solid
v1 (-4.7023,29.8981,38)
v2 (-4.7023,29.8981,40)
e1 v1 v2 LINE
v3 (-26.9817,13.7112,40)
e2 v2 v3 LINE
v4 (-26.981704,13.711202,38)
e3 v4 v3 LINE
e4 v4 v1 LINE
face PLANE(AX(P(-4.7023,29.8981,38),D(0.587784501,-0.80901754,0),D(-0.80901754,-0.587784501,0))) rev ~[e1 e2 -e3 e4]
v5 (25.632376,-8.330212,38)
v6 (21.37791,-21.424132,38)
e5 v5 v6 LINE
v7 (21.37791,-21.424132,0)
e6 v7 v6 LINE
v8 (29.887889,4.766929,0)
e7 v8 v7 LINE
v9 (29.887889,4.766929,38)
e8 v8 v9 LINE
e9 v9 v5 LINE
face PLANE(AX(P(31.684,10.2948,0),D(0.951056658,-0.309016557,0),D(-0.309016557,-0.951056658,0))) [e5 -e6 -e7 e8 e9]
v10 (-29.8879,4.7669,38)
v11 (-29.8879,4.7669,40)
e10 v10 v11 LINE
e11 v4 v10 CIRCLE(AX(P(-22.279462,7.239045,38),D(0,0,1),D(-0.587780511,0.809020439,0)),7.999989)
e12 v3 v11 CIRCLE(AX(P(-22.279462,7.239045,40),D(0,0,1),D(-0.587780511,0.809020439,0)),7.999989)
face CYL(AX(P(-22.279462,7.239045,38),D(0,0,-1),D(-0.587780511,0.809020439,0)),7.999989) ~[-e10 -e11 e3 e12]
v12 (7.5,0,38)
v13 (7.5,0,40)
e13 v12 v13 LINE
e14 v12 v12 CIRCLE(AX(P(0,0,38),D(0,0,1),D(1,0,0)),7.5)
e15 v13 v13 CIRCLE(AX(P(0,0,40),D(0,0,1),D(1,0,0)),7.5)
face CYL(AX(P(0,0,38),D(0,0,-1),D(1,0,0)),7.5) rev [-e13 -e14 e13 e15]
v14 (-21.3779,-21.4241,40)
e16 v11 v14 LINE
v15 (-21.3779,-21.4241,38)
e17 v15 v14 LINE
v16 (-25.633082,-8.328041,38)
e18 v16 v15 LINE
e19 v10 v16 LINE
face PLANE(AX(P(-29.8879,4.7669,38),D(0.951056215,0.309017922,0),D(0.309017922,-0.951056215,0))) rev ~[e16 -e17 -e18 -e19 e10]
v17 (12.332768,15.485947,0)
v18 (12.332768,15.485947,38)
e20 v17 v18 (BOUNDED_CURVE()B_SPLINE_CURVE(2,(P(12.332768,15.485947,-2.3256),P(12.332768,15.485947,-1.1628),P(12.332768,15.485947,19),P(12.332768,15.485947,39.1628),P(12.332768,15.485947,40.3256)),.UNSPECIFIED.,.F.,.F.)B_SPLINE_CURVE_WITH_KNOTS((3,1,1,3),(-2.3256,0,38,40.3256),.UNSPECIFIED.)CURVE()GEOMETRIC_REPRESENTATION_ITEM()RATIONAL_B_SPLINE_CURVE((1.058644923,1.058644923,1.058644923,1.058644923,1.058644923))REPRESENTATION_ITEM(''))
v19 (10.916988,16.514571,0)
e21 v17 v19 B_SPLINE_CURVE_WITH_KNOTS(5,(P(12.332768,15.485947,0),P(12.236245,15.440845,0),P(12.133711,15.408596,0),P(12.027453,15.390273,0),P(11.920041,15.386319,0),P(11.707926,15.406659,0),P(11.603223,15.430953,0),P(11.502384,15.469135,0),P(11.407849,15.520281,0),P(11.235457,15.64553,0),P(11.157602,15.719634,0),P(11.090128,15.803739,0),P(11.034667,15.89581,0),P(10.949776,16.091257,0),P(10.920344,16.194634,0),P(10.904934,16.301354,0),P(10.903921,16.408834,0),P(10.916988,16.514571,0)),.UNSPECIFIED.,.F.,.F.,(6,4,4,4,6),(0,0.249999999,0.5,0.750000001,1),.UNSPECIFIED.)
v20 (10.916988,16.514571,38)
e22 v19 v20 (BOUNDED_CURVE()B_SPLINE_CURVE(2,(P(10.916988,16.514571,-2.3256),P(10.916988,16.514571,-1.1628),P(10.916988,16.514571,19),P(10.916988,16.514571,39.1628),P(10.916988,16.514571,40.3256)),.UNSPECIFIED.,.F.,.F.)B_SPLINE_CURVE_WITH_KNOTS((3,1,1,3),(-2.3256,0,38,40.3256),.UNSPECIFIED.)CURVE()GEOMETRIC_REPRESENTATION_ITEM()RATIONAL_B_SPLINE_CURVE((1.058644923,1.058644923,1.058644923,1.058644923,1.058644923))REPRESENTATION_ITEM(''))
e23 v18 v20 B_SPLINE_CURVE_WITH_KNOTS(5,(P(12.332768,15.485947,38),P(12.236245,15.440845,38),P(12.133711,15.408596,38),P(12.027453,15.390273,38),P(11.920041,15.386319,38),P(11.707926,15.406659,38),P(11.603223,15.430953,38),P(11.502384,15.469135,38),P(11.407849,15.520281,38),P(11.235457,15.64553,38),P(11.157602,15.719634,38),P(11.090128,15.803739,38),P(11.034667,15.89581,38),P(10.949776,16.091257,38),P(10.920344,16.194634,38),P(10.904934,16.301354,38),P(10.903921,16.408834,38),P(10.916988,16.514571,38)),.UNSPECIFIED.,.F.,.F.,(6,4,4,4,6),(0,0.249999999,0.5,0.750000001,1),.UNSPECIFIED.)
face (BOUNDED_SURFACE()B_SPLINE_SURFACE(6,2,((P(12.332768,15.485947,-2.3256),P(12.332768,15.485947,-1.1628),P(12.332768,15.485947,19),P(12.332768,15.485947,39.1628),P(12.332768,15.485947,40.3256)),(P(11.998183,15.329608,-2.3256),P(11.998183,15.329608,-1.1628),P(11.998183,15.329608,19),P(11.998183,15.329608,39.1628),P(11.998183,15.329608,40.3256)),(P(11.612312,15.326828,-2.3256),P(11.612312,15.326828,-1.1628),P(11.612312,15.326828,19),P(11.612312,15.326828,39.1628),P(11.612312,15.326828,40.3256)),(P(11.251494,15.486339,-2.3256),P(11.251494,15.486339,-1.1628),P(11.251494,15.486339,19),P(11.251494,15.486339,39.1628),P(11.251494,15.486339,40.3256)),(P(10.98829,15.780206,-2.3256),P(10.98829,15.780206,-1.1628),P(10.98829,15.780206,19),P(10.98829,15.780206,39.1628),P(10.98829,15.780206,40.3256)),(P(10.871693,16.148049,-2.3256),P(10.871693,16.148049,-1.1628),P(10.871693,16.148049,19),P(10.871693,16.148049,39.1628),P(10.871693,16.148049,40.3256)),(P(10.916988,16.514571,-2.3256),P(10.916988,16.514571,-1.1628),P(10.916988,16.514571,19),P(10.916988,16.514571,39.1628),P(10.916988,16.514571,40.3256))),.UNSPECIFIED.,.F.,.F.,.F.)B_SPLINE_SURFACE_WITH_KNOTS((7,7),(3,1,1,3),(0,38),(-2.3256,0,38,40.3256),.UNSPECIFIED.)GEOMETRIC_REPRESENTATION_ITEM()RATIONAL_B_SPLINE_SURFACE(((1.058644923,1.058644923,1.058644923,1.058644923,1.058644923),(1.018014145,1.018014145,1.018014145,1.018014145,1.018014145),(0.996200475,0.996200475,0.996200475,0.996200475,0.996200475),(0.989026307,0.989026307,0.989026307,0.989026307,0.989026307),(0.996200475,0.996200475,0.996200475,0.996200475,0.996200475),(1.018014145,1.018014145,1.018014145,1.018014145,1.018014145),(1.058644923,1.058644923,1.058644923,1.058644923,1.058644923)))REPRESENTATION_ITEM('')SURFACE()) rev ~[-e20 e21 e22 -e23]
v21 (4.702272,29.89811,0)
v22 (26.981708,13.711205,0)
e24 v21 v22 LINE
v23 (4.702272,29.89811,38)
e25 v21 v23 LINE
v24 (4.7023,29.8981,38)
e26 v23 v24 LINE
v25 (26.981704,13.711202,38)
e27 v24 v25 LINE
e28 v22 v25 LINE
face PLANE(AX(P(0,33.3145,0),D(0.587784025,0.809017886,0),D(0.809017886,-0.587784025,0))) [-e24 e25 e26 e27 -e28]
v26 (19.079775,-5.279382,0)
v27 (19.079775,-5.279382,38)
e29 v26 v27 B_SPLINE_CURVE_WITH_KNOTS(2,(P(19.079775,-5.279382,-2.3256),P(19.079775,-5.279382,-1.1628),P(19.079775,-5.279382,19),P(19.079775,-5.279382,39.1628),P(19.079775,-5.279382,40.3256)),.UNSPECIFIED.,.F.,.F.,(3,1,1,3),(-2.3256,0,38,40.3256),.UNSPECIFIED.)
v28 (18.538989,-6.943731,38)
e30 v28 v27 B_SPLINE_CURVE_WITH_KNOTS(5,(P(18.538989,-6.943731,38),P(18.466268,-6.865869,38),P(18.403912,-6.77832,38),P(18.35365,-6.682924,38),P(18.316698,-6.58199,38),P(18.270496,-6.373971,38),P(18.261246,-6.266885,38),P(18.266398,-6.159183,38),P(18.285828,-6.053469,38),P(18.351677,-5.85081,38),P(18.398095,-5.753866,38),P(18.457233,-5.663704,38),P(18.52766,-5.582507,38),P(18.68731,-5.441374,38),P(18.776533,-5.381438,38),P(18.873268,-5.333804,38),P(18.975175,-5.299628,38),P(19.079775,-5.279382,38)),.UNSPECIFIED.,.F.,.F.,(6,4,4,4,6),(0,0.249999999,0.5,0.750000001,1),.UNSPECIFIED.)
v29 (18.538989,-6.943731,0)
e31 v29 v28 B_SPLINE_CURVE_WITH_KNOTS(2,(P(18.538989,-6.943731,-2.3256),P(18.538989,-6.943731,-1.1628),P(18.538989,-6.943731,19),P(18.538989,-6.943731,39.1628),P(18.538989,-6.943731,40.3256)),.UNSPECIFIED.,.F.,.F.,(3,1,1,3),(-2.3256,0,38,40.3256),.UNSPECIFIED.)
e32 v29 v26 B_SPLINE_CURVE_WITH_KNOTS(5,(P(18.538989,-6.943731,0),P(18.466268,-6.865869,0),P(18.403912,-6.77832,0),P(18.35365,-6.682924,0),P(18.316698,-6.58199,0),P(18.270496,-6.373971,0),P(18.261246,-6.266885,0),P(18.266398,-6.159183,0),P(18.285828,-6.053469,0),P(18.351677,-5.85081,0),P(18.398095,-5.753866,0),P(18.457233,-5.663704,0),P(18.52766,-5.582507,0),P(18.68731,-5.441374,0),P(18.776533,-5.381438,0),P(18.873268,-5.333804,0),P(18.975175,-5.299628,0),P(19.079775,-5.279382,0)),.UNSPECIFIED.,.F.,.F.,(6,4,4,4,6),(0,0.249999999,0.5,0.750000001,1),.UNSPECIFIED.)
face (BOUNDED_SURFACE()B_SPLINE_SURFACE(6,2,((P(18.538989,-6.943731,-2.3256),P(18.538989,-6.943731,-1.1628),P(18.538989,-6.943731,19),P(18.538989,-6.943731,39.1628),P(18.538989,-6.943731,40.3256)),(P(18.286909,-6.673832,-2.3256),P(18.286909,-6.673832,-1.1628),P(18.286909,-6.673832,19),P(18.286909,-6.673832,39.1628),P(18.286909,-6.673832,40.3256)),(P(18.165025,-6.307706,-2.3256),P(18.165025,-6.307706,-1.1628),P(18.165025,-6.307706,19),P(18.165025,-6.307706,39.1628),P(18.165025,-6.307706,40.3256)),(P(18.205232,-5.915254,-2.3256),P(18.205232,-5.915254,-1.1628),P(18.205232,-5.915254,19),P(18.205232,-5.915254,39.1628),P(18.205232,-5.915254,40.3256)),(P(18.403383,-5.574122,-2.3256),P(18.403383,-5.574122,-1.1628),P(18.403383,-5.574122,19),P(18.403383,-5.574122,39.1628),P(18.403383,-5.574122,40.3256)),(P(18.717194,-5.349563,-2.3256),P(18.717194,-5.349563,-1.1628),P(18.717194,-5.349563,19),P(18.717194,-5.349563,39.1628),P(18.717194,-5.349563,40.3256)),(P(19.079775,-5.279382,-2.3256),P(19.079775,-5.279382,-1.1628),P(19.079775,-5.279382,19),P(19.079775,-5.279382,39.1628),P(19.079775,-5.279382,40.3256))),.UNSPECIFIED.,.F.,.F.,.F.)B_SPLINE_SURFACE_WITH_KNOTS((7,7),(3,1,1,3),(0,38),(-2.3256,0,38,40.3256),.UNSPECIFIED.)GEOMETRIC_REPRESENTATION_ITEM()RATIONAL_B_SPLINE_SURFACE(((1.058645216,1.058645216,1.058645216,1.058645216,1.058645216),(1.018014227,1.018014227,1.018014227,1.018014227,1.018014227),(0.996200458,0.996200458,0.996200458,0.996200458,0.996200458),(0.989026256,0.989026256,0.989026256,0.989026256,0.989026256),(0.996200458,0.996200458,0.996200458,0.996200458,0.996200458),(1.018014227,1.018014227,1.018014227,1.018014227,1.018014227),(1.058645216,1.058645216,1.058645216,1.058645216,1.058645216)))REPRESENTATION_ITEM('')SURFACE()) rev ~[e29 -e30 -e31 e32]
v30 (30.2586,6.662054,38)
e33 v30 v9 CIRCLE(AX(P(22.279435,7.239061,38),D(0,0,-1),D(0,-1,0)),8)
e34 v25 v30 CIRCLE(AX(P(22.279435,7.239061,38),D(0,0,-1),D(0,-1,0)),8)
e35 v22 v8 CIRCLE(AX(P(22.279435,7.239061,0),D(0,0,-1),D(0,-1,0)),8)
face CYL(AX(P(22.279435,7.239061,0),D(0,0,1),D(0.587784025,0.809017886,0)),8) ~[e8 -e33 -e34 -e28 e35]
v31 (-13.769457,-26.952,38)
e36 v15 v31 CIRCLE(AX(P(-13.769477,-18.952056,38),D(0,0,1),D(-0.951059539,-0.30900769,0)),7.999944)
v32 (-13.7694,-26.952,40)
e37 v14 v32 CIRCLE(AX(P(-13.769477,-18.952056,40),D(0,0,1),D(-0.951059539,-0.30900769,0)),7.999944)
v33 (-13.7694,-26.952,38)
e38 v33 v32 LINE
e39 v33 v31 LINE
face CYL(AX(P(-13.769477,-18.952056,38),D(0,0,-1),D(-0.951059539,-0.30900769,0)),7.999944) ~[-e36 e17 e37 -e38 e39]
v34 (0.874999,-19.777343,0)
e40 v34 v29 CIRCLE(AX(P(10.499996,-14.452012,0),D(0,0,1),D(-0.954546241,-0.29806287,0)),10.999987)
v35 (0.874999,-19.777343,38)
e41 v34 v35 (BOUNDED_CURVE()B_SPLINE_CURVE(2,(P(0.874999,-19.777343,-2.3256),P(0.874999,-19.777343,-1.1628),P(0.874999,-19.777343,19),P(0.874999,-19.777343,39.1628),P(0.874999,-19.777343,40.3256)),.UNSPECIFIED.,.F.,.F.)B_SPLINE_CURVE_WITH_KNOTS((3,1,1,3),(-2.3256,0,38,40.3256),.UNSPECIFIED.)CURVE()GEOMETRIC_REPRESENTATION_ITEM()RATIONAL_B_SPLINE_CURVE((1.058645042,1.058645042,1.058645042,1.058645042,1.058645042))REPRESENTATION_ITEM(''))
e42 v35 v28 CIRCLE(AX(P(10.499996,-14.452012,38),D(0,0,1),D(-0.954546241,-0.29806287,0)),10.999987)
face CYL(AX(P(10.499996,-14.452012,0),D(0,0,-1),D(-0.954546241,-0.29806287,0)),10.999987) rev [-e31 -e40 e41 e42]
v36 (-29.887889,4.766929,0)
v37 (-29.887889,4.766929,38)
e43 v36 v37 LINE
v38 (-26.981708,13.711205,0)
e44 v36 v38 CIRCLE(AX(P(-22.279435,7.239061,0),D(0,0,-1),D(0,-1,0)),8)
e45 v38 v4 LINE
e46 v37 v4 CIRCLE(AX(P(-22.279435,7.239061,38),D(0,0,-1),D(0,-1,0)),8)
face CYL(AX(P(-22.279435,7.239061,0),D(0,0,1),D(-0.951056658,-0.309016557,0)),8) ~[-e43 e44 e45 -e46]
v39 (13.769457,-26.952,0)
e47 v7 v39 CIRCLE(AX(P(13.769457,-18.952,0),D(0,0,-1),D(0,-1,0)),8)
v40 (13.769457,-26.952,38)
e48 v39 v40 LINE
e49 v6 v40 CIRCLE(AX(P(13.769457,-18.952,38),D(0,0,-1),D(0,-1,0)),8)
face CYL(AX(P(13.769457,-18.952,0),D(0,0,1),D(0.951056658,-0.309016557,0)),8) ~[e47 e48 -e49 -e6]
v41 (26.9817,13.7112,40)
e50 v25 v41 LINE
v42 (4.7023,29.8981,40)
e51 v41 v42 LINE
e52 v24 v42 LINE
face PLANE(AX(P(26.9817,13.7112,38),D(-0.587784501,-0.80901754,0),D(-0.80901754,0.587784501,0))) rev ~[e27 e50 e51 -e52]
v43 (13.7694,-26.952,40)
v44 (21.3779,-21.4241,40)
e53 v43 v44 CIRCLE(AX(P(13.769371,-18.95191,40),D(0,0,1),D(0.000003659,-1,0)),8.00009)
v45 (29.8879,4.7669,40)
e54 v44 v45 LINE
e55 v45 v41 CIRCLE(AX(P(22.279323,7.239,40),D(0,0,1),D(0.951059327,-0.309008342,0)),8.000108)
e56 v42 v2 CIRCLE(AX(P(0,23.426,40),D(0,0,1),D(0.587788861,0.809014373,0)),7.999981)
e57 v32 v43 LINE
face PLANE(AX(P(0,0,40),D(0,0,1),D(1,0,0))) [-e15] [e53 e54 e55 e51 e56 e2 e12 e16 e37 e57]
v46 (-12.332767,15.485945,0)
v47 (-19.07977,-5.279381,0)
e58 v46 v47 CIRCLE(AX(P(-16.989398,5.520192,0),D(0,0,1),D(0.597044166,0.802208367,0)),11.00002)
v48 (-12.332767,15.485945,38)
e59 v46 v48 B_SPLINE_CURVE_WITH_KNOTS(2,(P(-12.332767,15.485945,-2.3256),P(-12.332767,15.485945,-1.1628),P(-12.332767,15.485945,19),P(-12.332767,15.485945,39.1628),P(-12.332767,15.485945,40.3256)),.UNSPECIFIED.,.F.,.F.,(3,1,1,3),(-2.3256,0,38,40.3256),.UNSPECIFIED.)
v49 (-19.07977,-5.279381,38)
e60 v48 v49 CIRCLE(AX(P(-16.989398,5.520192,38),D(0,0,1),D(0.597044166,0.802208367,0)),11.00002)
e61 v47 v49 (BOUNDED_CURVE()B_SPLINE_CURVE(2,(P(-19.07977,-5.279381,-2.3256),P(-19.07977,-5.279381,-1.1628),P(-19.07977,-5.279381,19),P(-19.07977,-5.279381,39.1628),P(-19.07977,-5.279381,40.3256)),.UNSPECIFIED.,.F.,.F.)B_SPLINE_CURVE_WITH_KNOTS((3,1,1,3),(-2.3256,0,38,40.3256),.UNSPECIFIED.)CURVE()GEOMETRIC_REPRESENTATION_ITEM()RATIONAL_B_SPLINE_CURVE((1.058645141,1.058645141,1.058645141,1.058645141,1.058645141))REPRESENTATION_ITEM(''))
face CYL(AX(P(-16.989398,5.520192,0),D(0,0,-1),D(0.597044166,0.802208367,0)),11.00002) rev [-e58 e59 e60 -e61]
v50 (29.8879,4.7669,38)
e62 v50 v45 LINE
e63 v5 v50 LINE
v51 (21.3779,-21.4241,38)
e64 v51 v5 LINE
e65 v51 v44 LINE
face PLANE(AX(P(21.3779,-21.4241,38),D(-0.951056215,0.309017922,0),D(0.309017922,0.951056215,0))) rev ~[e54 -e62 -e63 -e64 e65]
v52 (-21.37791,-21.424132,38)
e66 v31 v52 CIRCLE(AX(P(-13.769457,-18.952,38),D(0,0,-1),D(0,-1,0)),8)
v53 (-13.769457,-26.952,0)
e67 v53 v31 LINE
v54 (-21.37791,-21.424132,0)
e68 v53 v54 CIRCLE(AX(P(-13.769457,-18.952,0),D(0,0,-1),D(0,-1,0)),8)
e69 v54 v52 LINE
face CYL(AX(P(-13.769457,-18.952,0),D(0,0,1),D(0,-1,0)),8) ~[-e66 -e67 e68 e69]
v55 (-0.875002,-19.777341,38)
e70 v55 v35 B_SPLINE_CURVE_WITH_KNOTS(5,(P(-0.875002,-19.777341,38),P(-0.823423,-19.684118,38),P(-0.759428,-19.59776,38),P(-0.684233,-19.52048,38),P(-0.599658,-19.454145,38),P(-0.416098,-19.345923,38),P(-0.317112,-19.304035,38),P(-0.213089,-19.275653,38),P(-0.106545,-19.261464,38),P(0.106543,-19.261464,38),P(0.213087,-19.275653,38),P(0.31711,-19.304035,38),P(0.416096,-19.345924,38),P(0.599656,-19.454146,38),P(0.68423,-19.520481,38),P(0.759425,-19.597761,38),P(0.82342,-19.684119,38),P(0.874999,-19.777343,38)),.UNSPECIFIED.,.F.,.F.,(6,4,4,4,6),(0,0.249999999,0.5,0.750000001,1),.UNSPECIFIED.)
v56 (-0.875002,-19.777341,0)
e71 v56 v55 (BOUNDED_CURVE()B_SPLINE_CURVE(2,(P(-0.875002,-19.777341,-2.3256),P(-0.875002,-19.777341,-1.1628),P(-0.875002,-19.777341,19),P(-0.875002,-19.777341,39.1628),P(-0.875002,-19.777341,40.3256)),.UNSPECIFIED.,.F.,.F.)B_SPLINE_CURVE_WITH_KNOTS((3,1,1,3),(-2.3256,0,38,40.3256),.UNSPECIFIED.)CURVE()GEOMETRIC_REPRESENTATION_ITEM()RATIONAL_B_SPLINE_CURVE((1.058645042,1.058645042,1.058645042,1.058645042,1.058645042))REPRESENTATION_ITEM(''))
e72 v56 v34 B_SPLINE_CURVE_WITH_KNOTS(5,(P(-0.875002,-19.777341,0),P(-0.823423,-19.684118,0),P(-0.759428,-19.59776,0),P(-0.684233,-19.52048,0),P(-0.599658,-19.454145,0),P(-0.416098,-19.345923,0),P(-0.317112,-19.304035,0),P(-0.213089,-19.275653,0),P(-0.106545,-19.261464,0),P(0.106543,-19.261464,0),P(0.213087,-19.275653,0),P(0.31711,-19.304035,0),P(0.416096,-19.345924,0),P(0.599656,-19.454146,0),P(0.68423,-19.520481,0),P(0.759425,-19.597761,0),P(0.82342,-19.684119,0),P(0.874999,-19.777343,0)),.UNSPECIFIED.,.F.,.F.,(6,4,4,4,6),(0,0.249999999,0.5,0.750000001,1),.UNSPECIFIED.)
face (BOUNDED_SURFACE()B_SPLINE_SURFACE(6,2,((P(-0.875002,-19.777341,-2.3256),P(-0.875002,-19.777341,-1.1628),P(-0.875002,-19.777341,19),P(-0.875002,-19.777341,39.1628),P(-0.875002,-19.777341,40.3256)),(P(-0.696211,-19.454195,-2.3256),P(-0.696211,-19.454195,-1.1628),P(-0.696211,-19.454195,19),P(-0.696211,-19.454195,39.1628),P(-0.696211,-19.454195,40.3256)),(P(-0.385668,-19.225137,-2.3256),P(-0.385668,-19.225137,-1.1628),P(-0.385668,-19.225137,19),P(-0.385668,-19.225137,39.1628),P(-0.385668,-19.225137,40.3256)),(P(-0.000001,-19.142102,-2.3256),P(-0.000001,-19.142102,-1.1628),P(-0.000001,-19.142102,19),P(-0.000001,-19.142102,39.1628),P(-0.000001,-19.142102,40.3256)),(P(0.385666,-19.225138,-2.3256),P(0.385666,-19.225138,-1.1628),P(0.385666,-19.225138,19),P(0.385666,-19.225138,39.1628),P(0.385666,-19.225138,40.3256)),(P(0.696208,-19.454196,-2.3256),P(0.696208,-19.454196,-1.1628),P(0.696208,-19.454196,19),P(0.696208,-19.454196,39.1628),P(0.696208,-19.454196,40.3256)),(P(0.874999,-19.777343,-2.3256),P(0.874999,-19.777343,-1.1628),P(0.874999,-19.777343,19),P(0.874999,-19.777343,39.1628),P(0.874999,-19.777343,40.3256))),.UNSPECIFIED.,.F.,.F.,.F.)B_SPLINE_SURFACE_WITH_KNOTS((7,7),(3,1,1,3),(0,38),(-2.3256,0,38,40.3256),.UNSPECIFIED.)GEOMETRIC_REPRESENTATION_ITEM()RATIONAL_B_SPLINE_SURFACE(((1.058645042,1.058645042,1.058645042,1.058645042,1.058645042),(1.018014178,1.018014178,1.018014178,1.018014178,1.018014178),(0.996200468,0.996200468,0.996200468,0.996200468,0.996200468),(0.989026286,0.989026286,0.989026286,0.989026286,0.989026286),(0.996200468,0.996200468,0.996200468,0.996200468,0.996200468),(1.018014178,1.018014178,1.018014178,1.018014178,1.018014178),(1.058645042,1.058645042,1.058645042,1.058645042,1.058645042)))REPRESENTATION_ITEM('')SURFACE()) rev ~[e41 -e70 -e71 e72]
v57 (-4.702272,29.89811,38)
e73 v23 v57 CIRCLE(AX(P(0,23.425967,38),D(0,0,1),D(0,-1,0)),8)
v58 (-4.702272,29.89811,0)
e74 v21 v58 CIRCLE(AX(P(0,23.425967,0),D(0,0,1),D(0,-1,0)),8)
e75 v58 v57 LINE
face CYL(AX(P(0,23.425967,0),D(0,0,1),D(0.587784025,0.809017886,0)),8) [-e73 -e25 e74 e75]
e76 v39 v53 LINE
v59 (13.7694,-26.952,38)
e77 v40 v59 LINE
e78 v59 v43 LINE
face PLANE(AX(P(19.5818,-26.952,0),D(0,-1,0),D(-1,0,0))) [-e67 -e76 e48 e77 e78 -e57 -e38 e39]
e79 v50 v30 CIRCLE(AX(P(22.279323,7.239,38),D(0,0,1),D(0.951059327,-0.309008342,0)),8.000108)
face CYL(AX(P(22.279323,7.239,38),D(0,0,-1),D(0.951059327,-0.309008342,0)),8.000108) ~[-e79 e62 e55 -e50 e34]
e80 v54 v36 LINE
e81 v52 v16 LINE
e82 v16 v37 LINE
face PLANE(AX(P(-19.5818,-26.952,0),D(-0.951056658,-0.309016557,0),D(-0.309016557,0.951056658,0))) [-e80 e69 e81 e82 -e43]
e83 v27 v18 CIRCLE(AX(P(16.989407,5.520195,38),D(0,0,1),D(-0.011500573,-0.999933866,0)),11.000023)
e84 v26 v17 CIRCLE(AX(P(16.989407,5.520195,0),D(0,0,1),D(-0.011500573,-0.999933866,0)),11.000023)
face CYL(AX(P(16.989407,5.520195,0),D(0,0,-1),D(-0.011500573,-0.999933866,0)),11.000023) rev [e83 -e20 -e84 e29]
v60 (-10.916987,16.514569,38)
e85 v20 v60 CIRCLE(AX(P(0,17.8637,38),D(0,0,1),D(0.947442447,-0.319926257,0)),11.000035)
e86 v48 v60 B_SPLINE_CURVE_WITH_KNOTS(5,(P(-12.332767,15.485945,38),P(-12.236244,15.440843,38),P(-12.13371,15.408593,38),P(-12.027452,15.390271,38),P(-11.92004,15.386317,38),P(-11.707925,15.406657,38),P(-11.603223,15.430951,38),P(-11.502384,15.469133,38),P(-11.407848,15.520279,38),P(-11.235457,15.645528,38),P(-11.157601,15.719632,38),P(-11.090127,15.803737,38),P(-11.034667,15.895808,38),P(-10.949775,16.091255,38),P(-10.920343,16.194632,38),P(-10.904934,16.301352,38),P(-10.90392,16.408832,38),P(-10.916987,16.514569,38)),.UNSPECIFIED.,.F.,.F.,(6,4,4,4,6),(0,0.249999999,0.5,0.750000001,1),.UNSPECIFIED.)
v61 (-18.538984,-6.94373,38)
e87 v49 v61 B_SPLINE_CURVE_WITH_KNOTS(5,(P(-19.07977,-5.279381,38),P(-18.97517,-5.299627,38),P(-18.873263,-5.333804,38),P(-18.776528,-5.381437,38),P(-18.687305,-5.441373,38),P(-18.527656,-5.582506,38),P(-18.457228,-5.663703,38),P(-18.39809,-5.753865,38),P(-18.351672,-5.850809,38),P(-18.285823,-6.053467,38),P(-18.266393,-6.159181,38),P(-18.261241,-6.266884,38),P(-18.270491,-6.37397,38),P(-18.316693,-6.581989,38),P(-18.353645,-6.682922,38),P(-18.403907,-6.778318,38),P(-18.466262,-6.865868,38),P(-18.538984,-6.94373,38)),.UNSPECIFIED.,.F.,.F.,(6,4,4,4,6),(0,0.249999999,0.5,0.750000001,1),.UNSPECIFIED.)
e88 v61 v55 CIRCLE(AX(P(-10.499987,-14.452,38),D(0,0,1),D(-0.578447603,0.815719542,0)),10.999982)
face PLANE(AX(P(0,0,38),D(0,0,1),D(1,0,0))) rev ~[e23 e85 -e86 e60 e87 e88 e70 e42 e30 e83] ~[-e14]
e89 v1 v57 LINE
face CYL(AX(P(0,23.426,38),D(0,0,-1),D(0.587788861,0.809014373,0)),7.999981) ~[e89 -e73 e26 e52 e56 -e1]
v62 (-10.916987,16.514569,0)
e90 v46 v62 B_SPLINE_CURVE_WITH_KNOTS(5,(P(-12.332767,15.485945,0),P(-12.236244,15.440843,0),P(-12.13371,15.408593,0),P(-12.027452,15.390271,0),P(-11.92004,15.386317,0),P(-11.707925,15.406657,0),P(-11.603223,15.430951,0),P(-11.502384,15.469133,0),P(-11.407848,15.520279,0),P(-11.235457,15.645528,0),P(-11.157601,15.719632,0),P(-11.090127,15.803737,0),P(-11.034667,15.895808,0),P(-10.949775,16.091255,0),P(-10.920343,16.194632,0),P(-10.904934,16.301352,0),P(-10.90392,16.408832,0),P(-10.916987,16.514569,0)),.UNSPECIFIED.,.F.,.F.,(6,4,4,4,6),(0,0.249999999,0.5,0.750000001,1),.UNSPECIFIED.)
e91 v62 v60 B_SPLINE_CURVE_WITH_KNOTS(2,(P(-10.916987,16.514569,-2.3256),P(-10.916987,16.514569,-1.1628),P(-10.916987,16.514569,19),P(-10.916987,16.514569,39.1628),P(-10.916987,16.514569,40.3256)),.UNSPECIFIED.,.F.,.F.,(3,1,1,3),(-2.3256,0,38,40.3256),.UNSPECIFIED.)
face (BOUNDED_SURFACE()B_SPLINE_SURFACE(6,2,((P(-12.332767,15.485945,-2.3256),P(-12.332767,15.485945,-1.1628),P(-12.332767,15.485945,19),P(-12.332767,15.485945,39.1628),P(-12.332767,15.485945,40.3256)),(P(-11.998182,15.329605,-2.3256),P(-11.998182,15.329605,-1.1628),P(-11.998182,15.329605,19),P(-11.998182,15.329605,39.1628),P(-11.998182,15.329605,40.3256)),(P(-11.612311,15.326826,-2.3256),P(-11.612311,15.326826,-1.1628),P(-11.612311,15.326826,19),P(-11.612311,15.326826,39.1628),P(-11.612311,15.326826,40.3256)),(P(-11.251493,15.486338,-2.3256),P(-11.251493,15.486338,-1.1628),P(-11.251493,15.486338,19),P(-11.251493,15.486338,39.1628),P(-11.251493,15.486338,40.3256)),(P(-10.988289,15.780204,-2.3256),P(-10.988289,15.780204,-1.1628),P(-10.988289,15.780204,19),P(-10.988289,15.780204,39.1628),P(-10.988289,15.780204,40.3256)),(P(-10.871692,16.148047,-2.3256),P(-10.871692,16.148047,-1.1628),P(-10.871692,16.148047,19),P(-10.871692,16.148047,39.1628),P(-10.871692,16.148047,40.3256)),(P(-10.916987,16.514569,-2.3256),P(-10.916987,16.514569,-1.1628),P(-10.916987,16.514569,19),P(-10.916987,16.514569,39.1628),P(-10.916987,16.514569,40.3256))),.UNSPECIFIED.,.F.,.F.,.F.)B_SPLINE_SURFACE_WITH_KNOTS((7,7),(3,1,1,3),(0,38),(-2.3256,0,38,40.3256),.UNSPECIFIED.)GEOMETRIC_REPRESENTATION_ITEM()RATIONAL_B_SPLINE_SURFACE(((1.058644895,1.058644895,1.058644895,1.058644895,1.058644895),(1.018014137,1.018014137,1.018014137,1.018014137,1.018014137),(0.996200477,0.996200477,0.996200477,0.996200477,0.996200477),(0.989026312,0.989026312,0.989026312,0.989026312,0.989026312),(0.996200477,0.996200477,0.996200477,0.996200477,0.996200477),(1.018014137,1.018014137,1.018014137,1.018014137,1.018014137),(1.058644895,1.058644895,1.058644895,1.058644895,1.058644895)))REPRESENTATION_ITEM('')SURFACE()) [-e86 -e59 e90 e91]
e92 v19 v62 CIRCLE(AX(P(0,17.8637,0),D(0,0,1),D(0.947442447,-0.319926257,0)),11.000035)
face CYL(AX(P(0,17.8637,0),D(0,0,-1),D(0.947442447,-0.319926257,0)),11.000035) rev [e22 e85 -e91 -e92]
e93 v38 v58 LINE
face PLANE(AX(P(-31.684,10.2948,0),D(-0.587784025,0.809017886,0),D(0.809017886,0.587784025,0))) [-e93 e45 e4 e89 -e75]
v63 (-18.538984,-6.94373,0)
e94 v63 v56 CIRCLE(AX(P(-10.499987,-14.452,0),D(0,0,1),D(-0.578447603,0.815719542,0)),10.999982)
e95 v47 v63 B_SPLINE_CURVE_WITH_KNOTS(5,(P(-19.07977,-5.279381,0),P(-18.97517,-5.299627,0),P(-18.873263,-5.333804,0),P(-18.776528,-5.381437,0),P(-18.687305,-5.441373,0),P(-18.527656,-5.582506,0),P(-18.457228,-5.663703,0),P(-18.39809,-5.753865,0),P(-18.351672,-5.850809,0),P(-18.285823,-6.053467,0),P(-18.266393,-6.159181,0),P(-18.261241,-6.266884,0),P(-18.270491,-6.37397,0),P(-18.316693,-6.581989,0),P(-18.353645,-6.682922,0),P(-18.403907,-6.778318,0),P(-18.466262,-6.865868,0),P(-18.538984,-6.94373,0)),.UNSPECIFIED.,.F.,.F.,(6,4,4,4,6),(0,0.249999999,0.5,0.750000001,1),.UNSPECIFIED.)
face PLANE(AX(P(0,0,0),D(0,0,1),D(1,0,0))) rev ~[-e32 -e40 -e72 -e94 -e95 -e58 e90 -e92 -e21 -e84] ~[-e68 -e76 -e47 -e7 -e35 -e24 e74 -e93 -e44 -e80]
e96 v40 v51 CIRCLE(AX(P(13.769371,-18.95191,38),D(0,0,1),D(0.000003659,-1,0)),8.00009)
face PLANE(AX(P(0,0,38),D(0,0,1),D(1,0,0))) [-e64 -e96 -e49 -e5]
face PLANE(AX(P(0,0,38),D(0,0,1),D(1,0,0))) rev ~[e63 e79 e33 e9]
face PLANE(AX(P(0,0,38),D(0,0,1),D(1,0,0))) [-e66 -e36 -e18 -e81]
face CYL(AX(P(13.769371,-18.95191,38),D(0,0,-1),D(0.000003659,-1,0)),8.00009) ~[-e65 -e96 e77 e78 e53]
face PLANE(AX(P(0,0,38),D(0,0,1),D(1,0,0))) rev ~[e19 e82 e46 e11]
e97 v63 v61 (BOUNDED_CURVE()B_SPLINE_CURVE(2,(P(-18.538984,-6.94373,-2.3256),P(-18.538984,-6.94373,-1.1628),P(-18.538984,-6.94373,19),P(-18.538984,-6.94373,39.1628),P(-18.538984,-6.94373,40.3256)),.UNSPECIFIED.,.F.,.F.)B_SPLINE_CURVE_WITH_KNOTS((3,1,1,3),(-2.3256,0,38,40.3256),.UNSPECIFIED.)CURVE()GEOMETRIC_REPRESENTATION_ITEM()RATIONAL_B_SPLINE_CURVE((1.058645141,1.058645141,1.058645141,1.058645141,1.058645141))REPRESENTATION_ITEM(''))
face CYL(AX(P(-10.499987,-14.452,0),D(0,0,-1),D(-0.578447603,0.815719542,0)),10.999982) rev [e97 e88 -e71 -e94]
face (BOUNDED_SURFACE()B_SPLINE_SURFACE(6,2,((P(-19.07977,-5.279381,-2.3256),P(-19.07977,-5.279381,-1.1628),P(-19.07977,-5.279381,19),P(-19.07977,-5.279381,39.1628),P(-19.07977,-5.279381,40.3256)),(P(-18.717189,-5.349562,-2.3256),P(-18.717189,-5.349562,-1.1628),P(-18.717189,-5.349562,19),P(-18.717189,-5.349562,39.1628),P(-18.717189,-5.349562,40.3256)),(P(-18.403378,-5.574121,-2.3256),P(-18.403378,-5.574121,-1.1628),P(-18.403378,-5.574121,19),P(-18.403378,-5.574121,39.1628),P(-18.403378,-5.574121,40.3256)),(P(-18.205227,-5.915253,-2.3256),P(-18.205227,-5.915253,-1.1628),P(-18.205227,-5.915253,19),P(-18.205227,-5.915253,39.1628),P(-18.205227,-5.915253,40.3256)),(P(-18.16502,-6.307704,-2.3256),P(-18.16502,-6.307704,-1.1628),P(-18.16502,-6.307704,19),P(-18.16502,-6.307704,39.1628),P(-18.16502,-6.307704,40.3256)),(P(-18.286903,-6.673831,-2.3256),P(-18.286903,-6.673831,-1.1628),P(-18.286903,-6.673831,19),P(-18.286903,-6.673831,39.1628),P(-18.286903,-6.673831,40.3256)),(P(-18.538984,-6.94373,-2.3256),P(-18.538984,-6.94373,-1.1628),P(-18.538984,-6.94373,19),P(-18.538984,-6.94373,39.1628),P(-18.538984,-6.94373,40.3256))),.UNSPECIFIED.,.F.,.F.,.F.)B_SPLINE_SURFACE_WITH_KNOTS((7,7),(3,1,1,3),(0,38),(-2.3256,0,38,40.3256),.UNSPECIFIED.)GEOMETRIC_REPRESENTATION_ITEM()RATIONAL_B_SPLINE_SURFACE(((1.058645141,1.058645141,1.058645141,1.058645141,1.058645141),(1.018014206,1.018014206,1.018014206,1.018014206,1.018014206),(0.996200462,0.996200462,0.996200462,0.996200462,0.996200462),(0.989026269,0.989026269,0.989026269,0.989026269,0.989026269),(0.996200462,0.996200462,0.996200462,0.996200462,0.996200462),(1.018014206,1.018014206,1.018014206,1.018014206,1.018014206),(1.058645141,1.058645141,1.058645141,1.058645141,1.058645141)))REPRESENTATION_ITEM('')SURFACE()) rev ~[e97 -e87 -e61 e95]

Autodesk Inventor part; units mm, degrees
ref_plane "YZ Plane" through (0, 0, 0) normal (1, 0, 0) x (0, 1, 0)
ref_plane "XZ Plane" through (0, 0, 0) normal (0, 1, 0) x (-1, 0, 0)
ref_plane "XY Plane" through (0, 0, 0) normal (0, 0, 1) x (1, 0, 0)
sketch "Skizze1" plane through (0, 0, 0) normal (0, 0, 1) x (1, 0, 0)
  circle A0 centre (0, 0) radius 17.8637 construction
  circle A1 centre (-16.9894, 5.5202) radius 10.5 construction
  circle A2 centre (0, 17.8637) radius 10.5 construction
  circle A3 centre (16.9894, 5.5202) radius 10.5 construction
  circle A4 centre (10.5, -14.452) radius 10.5 construction
  circle A5 centre (-10.5, -14.452) radius 10.5 construction
  arc A6 (-10.4219, 14.3445) -> (-16.8629, -5.4791) centre (-16.9894, 5.5202) ccw
  arc A7 (10.4219, 14.3445) -> (-10.4219, 14.3445) centre (0, 17.8637) ccw
  arc A8 (16.8629, -5.4791) -> (10.4219, 14.3445) centre (16.9894, 5.5202) ccw
  arc A9 (0, -17.7307) -> (16.8629, -5.4791) centre (10.5, -14.452) ccw
  arc A10 (-16.8629, -5.4791) -> (0, -17.7307) centre (-10.5, -14.452) ccw
  line L0 (0, 33.3145) -> (31.684, 10.2948)
  line L1 (31.684, 10.2948) -> (19.5818, -26.952)
  line L2 (19.5818, -26.952) -> (-19.5818, -26.952)
  line L3 (-19.5818, -26.952) -> (-31.684, 10.2948)
  line L4 (-31.684, 10.2948) -> (0, 33.3145)
  dimension "d0" = 21
  dimension "d1" = 11
  dimension "d2" = 12.5
extrude "Extrusion1" add sketch "Skizze1" along normal blind 38
fillet "Rundung1" radius 1 5 edges at (-10.4219, 14.3445, 19) (10.4219, 14.3445, 19) (16.8629, -5.4791, 19) (0, -17.7307, 19) (-16.8629, -5.4791, 19)
fillet "Rundung1" radius 8 5 edges at (19.5818, -26.952, 19) (31.684, 10.2948, 19) (0, 33.3145, 19) (-31.684, 10.2948, 19) (-19.5818, -26.952, 19)
sketch "Skizze2" plane through (0, 0, 38) normal (0, 0, 1) x (1, 0, 0)
  arc A0 (-21.3779, -21.4241) -> (-13.7694, -26.952) centre (-13.7694, -18.952) ccw projected
  line L0 (-13.7694, -26.952) -> (13.7694, -26.952) projected
  arc A1 (13.7694, -26.952) -> (21.3779, -21.4241) centre (13.7694, -18.952) ccw projected
  line L1 (21.3779, -21.4241) -> (29.8879, 4.7669) projected
  arc A2 (29.8879, 4.7669) -> (26.9817, 13.7112) centre (22.2794, 7.239) ccw projected
  line L2 (26.9817, 13.7112) -> (4.7023, 29.8981) projected
  arc A3 (4.7023, 29.8981) -> (-4.7023, 29.8981) centre (0, 23.426) ccw projected
  line L3 (-4.7023, 29.8981) -> (-26.9817, 13.7112) projected
  arc A4 (-26.9817, 13.7112) -> (-29.8879, 4.7669) centre (-22.2794, 7.239) ccw projected
  line L4 (-29.8879, 4.7669) -> (-21.3779, -21.4241) projected
  arc A5 (-18.539, -6.9437) -> (-19.0798, -5.2794) centre (-19.2698, -6.2611) ccw projected
  arc A6 (-12.3327, 15.4859) -> (-19.0798, -5.2794) centre (-16.9894, 5.5202) ccw projected
  arc A7 (-12.3327, 15.4859) -> (-10.917, 16.5145) centre (-11.9094, 16.3919) ccw projected
  arc A8 (10.917, 16.5145) -> (-10.917, 16.5145) centre (0, 17.8637) ccw projected
  arc A9 (10.917, 16.5145) -> (12.3327, 15.4859) centre (11.9094, 16.3919) ccw projected
  arc A10 (19.0798, -5.2794) -> (12.3327, 15.4859) centre (16.9894, 5.5202) ccw projected
  arc A11 (19.0798, -5.2794) -> (18.539, -6.9437) centre (19.2698, -6.2611) ccw projected
  arc A12 (0.875, -19.7774) -> (18.539, -6.9437) centre (10.5, -14.452) ccw projected
  arc A13 (0.875, -19.7774) -> (-0.875, -19.7774) centre (0, -20.2615) ccw projected
  arc A14 (-18.539, -6.9437) -> (-0.875, -19.7774) centre (-10.5, -14.452) ccw projected
  circle A15 centre (0, 0) radius 7.5
  dimension "d7" = 15
extrude "Extrusion2" add sketch "Skizze2" along normal blind 2 contours L4 A4 L3 A3 L2 A2 L1 A1 L0 A0 | A5 A6 A7 A8 A9 A10 A11 A12 A13 A14
equation "\"G_L\" = 0"
equation "\"G_H\" = 0"
equation "\"G_B\" = 0"
properties part number "21700_case" material "GEDA Stahl"
